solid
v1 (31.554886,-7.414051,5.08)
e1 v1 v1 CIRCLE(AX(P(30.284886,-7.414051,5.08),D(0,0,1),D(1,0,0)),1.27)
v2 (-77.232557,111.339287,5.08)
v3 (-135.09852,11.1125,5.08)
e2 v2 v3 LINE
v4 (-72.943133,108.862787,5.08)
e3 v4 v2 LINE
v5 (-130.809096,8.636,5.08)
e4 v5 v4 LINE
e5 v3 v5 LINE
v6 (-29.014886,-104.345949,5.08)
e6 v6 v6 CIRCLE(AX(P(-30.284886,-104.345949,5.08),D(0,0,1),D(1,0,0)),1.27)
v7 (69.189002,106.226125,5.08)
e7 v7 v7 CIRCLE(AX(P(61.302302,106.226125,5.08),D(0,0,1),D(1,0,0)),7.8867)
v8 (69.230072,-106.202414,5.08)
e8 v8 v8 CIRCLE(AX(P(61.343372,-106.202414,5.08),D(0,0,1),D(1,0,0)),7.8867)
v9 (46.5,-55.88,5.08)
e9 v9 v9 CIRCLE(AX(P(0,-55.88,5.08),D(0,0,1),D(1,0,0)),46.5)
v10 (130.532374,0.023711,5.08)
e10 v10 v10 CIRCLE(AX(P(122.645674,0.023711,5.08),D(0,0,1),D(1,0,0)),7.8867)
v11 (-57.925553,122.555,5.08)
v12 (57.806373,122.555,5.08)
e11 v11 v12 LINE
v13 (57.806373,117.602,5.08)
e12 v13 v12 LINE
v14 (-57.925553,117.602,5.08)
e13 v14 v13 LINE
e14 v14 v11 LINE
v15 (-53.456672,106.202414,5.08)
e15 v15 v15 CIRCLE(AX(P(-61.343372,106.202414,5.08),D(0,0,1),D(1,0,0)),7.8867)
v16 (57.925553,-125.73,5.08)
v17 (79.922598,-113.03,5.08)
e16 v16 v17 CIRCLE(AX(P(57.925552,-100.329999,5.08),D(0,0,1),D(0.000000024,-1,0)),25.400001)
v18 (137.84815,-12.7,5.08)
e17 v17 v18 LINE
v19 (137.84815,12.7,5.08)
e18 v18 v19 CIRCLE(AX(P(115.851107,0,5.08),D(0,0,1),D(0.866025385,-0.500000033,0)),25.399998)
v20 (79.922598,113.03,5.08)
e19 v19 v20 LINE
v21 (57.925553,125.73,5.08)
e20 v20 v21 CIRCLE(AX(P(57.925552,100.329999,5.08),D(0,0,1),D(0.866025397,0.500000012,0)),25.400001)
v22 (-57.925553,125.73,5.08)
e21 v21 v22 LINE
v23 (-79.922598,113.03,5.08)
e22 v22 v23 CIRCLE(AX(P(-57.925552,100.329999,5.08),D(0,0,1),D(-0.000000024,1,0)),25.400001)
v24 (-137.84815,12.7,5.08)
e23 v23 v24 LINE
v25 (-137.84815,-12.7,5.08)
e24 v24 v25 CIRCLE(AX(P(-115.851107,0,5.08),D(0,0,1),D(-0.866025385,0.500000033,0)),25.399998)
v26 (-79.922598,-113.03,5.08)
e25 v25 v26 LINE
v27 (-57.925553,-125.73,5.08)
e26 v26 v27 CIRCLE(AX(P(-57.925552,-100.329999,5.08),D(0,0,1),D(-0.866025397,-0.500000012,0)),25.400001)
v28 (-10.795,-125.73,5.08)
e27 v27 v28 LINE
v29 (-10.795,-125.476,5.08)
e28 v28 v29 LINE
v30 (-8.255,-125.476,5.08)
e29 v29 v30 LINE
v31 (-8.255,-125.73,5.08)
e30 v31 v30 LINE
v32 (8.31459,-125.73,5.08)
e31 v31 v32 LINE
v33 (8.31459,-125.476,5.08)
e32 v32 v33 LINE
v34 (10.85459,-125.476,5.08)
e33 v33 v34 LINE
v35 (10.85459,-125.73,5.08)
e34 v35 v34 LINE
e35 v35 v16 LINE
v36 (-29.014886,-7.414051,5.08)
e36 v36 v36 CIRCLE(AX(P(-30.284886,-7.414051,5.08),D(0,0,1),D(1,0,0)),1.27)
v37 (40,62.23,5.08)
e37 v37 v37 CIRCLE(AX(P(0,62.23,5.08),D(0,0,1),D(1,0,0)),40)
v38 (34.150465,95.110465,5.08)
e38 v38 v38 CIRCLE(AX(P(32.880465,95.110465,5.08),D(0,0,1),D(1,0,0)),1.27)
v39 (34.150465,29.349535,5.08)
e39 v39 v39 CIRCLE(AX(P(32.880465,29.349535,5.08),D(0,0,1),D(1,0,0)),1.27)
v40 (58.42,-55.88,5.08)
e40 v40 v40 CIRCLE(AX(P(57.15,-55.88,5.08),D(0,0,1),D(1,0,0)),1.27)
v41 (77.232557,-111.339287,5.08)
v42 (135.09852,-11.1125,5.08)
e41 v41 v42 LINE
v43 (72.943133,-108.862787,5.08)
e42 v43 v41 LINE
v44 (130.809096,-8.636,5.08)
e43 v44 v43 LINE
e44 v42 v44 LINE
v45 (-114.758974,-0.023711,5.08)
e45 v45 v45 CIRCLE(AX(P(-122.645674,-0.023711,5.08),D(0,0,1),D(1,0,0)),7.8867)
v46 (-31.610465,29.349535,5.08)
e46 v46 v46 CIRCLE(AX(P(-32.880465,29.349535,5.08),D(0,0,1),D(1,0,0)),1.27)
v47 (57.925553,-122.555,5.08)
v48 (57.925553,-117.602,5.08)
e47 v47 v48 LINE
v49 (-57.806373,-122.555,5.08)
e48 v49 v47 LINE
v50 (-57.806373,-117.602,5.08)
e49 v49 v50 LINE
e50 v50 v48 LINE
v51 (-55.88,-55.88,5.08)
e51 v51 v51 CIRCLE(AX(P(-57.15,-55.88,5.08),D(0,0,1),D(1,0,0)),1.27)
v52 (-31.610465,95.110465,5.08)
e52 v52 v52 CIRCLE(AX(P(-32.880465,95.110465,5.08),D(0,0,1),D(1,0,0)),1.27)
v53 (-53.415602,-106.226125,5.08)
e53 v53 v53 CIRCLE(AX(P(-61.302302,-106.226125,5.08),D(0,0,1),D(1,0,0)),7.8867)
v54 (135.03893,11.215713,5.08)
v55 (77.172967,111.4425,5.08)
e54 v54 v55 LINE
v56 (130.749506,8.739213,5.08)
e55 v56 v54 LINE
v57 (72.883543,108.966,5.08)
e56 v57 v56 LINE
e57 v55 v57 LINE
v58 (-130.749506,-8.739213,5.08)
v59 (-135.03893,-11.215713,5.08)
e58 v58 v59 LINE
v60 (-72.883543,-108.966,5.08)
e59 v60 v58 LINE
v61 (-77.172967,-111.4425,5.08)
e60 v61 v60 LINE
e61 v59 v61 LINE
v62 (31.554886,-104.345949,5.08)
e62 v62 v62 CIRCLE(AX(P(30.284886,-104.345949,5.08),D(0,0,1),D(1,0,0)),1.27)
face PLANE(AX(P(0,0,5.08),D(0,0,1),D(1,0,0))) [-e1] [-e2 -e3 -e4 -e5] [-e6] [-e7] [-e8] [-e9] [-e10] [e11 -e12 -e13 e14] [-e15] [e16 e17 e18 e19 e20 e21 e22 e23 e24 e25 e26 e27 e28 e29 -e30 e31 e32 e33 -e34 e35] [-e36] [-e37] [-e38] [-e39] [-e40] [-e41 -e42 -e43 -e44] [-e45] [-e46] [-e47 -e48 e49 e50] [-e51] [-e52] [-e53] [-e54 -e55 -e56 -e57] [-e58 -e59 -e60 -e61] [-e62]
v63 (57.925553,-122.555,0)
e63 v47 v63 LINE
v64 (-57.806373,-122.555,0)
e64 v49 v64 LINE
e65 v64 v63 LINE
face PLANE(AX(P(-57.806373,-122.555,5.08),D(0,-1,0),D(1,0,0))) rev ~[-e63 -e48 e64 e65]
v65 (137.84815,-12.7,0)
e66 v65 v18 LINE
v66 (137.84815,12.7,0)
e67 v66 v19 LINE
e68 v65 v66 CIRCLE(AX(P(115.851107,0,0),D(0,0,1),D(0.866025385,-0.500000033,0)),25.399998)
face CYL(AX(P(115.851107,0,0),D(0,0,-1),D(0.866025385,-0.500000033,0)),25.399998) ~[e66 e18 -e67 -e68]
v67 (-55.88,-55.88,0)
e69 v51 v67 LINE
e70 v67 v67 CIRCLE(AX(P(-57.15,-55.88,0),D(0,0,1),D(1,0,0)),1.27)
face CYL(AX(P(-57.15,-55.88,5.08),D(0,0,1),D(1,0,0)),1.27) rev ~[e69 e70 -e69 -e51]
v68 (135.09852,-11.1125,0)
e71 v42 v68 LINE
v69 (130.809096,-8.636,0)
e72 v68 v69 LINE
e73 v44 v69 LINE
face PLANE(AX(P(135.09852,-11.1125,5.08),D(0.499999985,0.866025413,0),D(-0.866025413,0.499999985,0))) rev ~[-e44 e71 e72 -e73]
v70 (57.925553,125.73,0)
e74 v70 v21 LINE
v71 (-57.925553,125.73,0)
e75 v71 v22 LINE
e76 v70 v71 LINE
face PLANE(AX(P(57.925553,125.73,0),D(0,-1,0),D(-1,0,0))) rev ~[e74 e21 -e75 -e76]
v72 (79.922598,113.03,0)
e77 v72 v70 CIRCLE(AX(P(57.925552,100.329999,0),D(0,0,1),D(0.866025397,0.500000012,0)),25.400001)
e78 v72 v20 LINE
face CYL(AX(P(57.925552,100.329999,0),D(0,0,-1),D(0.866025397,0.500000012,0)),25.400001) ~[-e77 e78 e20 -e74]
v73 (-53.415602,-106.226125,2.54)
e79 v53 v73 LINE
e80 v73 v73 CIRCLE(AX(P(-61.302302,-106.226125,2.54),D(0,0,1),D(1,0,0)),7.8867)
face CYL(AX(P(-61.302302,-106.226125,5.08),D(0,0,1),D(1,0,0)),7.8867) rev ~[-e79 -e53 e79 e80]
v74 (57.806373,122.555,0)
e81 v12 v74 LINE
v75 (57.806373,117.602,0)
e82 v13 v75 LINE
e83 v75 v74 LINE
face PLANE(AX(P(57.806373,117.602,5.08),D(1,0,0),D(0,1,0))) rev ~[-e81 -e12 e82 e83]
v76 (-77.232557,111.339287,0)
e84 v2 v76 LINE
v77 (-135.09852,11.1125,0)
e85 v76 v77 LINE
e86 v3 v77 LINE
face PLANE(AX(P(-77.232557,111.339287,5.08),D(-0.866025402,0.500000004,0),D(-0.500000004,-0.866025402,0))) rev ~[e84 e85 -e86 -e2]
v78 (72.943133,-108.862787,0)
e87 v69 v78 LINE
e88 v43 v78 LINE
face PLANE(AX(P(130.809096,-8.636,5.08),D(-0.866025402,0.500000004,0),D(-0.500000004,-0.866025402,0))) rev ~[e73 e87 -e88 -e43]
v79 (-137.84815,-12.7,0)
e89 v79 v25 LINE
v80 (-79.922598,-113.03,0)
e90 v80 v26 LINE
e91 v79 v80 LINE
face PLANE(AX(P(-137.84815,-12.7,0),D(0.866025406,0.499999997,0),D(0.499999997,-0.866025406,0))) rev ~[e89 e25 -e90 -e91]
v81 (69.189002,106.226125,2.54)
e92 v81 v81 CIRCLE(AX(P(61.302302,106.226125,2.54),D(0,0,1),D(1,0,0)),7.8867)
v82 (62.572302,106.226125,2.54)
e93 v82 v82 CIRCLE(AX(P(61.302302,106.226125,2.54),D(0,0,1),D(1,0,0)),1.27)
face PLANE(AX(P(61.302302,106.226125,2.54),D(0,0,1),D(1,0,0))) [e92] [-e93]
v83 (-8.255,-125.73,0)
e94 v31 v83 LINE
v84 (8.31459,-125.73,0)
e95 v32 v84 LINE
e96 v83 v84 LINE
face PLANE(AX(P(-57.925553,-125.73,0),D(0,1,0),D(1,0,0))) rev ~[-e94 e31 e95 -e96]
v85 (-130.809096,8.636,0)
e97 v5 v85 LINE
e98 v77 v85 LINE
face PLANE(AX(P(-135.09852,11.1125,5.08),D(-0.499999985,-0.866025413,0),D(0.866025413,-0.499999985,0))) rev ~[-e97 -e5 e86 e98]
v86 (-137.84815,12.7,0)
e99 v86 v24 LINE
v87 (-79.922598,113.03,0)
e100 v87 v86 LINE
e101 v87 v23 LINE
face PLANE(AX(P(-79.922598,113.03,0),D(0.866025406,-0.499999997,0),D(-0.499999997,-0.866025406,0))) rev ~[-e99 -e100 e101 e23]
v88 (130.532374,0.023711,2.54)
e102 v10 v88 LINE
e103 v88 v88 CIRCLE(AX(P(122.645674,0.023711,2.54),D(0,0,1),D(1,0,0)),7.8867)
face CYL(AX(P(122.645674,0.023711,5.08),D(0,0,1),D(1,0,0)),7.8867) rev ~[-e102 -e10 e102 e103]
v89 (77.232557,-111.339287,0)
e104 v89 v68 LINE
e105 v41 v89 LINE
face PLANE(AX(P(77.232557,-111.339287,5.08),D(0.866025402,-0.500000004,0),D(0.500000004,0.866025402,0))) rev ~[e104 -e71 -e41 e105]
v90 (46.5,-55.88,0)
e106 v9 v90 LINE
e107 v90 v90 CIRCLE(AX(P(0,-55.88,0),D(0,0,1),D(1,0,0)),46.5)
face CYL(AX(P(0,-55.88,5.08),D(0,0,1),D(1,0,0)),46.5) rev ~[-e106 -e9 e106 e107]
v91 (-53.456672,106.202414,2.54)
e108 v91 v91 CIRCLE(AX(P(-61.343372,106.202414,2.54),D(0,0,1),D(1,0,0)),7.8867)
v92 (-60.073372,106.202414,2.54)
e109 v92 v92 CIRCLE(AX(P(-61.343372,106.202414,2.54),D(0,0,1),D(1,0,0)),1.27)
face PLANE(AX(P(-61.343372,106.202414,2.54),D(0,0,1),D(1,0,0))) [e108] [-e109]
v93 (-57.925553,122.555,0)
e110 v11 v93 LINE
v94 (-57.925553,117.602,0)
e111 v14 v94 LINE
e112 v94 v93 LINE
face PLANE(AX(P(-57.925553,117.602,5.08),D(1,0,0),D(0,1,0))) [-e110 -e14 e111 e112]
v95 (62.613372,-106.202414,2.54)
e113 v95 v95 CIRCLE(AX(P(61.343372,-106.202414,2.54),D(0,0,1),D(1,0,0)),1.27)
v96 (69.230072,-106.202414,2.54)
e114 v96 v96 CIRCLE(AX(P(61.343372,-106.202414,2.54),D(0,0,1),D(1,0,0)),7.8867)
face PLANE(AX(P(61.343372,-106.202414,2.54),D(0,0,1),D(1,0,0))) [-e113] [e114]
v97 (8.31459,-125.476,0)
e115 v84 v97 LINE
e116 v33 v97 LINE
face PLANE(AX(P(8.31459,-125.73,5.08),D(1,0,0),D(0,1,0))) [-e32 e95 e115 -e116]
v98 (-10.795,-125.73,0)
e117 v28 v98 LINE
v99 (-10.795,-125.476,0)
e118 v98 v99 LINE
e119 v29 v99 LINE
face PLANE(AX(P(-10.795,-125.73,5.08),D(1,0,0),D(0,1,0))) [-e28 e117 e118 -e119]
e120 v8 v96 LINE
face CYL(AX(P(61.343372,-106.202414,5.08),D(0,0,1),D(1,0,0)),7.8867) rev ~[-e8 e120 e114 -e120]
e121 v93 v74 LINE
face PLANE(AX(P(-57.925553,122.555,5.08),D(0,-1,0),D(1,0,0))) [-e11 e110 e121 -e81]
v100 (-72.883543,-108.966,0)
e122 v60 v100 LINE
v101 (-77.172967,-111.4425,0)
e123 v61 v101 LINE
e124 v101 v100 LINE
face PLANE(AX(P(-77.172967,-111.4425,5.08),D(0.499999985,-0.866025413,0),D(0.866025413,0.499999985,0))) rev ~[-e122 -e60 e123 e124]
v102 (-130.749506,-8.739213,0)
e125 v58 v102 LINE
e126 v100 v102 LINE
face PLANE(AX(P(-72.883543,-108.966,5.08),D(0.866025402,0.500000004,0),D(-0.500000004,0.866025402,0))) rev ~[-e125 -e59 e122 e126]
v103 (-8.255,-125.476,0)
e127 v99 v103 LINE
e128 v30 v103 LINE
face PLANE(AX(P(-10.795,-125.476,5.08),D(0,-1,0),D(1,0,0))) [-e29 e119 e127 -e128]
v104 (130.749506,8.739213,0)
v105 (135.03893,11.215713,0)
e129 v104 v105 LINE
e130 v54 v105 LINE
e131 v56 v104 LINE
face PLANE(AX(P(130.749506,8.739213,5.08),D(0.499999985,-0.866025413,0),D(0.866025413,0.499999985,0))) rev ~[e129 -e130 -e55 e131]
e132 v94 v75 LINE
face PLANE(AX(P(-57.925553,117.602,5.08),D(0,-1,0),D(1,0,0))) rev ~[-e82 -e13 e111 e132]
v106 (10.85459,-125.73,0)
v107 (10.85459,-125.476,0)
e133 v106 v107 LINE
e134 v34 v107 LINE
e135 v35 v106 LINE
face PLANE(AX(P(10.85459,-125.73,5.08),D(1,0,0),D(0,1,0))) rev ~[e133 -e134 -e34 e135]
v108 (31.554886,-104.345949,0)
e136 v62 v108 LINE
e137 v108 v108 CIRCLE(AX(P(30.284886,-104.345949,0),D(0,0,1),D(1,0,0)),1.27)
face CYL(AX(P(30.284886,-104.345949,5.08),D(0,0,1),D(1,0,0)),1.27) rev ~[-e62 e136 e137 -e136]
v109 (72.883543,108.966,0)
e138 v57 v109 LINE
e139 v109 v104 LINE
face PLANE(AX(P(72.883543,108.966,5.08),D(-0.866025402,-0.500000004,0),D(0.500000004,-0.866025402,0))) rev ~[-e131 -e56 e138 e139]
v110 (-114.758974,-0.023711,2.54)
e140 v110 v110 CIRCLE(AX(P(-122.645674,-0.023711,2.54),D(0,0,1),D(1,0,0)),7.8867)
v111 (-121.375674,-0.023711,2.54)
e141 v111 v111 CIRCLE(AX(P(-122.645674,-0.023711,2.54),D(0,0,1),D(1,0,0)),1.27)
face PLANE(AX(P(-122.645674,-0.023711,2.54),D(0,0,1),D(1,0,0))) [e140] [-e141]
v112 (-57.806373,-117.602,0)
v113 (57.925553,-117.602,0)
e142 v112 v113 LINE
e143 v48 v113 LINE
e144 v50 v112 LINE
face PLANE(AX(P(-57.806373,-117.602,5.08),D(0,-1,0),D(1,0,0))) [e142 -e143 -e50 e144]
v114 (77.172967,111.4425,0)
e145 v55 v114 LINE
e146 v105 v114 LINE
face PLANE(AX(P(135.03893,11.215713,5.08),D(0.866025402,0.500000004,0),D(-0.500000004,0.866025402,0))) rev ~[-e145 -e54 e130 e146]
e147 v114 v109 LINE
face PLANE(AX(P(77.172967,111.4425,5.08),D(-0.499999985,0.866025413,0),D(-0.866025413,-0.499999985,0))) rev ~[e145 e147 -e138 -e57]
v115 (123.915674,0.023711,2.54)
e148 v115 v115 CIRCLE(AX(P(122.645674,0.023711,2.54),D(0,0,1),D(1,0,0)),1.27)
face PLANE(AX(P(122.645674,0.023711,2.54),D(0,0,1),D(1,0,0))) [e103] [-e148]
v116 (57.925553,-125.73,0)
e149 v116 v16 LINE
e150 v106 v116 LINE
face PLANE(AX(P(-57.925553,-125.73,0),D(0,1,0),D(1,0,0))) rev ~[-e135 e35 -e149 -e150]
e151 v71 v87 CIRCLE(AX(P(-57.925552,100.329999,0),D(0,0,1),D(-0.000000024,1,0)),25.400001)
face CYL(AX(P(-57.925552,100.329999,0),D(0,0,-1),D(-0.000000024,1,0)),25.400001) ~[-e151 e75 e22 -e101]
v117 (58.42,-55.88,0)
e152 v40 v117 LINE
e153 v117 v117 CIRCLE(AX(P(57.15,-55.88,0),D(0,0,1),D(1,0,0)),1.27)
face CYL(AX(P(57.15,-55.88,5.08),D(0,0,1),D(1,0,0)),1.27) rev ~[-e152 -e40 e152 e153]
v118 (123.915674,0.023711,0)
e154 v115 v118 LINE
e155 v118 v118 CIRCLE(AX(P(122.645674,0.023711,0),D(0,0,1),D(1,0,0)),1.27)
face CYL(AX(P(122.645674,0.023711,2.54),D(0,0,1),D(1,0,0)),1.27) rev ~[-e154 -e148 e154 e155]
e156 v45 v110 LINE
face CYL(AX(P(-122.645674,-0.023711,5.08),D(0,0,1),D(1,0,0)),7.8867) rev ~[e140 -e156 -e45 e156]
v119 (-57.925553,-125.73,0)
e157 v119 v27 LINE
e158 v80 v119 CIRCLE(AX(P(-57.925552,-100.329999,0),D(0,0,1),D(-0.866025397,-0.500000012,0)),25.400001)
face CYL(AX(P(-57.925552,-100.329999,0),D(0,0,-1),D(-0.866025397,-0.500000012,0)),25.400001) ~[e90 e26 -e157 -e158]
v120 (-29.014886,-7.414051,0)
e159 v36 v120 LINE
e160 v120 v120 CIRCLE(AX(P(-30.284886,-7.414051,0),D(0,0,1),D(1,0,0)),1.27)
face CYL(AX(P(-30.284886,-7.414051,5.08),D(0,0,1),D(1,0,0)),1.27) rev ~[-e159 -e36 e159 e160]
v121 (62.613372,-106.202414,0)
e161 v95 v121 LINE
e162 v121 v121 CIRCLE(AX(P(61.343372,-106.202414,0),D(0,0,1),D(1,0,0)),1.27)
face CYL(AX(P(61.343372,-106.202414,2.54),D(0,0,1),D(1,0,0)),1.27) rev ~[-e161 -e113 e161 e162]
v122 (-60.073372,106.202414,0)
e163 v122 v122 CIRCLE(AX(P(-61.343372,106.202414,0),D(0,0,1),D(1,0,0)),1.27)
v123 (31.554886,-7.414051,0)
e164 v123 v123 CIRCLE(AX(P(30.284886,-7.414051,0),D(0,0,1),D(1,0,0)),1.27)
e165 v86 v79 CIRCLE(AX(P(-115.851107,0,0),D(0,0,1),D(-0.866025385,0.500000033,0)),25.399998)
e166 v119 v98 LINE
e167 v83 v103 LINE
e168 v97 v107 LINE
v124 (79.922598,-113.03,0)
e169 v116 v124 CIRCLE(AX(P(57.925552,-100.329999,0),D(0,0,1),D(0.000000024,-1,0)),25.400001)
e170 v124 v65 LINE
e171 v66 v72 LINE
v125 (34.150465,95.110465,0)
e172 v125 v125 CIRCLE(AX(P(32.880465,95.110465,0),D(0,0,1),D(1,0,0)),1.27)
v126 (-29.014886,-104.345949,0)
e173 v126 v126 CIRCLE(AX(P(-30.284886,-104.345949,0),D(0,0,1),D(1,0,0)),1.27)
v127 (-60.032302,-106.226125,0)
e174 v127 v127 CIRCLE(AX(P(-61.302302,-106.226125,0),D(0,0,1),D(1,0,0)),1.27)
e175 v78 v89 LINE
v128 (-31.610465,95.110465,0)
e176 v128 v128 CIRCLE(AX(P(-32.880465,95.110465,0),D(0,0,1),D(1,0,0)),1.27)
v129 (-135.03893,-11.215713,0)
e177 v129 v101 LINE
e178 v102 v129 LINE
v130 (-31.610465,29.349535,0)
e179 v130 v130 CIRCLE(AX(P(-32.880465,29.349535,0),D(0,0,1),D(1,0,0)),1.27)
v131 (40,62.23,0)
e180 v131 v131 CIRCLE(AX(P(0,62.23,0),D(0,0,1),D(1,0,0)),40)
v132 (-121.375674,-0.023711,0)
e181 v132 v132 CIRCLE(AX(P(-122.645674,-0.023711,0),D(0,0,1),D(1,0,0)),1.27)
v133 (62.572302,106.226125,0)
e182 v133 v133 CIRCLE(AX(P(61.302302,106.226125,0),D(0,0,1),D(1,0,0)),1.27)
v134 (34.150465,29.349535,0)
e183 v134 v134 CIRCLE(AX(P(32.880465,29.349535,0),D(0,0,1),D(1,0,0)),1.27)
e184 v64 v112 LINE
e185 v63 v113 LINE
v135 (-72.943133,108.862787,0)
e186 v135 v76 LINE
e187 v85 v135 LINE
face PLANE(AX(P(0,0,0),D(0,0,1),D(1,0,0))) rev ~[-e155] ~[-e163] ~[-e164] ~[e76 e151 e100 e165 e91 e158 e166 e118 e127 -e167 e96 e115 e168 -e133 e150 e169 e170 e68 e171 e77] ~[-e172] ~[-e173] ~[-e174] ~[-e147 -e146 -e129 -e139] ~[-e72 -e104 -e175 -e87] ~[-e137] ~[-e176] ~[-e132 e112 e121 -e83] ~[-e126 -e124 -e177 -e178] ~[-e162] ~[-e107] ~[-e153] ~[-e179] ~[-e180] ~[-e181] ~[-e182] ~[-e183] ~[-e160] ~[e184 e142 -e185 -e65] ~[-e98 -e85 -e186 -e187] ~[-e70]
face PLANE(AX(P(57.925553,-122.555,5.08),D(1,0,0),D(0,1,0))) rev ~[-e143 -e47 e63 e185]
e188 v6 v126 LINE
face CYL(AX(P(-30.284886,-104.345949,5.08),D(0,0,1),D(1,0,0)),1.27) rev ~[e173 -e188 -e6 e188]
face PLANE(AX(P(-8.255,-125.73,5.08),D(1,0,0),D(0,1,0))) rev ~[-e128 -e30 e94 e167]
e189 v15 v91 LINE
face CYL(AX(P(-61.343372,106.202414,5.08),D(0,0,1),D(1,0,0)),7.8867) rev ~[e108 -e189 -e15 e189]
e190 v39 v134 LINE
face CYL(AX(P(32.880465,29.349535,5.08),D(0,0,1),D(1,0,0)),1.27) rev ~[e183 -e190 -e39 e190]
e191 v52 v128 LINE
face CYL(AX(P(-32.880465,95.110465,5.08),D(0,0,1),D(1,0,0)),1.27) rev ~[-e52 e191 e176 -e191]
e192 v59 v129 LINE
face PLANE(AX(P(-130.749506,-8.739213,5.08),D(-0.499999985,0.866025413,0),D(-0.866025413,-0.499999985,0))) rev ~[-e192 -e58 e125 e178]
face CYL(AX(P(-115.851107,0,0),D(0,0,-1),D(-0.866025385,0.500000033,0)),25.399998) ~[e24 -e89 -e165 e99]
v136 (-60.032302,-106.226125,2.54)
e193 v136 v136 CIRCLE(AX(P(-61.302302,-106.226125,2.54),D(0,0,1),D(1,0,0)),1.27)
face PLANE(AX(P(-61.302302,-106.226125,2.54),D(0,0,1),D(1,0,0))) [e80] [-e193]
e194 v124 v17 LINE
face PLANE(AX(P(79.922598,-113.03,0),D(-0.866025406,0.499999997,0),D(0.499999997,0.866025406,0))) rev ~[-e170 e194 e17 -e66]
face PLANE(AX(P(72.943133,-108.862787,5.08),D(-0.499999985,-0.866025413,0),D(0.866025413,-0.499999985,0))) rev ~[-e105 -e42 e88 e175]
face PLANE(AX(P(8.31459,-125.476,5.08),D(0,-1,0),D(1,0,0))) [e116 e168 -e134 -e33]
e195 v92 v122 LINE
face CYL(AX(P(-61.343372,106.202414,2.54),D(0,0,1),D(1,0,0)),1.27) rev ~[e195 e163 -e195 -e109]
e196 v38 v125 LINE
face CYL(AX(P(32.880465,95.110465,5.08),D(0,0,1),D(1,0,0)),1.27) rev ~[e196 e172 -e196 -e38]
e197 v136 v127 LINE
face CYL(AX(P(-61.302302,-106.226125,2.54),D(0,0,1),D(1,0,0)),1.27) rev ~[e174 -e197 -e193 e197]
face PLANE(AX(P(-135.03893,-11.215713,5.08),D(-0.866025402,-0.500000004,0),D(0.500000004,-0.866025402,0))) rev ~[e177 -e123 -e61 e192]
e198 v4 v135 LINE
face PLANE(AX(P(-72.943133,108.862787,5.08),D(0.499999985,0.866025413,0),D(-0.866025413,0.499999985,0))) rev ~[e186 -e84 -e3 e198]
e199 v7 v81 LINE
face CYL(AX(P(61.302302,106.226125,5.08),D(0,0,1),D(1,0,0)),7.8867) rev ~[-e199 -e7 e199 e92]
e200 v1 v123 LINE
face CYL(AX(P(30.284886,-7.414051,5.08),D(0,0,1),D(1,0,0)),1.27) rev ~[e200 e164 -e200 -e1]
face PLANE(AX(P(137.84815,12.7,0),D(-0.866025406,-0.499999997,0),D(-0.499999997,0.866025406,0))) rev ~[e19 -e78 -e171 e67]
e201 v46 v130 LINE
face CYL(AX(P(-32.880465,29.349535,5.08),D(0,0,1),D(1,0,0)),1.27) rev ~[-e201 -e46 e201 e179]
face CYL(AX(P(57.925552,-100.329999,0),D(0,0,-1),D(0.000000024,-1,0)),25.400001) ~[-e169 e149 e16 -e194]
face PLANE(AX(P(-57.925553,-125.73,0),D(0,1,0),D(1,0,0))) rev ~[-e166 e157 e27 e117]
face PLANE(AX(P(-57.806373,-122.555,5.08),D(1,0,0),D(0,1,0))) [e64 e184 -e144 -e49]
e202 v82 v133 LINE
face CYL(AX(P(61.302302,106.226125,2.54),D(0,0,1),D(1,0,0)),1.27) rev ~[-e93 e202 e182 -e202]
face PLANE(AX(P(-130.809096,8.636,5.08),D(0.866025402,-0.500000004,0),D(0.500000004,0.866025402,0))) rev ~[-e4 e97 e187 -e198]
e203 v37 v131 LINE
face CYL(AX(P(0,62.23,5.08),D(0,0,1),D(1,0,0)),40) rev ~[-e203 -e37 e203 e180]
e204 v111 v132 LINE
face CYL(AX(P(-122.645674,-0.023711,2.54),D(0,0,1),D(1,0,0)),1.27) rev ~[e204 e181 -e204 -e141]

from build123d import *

# Parameters (mm, degrees)
F1_DEPTH  = 5.08
F2_R      = 40
F2_R_2    = 46.5
F2_R_3    = 1.27
F3_DEPTH  = 25.4
F4_W      = 115.731926
F4_H      = 4.953
F5_DEPTH  = 5.081
F6_R      = 7.8867
F7_DEPTH  = 2.54
F8_R      = 1.27
F9_DEPTH  = 2.541
F10_W     = 2.54
F10_H     = 0.254
F11_DEPTH = 5.081


with BuildPart() as f1:
    # F0 (on Top) → F1 (new body)
    with BuildSketch(Plane.XY):
        with BuildLine():
            Line((-79.922598, 113.03), (-137.84815, 12.7))
            ThreePointArc((-137.84815, 12.7), (-141.251105, 0), (-137.84815, -12.7))
            Line((-137.84815, -12.7), (-79.922598, -113.03))
            ThreePointArc((-79.922598, -113.03), (-70.625553, -122.327045), (-57.925553, -125.73))
            Line((-57.925553, -125.73), (57.925553, -125.73))
            ThreePointArc((57.925553, -125.73), (70.625553, -122.327045), (79.922598, -113.03))
            Line((79.922598, -113.03), (137.84815, -12.7))
            ThreePointArc((137.84815, -12.7), (141.251105, 0), (137.84815, 12.7))
            Line((137.84815, 12.7), (79.922598, 113.03))
            ThreePointArc((79.922598, 113.03), (70.625553, 122.327045), (57.925553, 125.73))
            Line((57.925553, 125.73), (-57.925553, 125.73))
            ThreePointArc((-57.925553, 125.73), (-70.625553, 122.327045), (-79.922598, 113.03))
        make_face()
    extrude(amount=F1_DEPTH)

    # F2 (on face) → F3 (cut)
    with BuildSketch(Plane.XY.offset(5.08)):
        with Locations((0, 62.23)):
            Circle(F2_R)
        with Locations((0, -55.88)):
            Circle(F2_R_2)
        with Locations((57.15, -55.88)):
            Circle(F2_R_3)
        with Locations((30.284886, -7.414051)):
            Circle(F2_R_3)
        with Locations((30.284886, -104.345949)):
            Circle(F2_R_3)
        with Locations((-30.284886, -7.414051)):
            Circle(F2_R_3)
        with Locations((-30.284886, -104.345949)):
            Circle(F2_R_3)
        with Locations((-57.15, -55.88)):
            Circle(F2_R_3)
        with Locations((-32.880465, 95.110465)):
            Circle(F2_R_3)
        with Locations((-32.880465, 29.349535)):
            Circle(F2_R_3)
        with Locations((32.880465, 29.349535)):
            Circle(F2_R_3)
        with Locations((32.880465, 95.110465)):
            Circle(F2_R_3)
    extrude(amount=-F3_DEPTH, mode=Mode.SUBTRACT)

    # F4 (on face) → F5 (cut, through all)
    with BuildSketch(Plane.XY.offset(5.08)):
        Polygon((-135.03893, -11.215713), (-77.172967, -111.4425), (-72.883543, -108.966), (-130.749506, -8.739213), align=None)
        Polygon((-77.232557, 111.339287), (-135.09852, 11.1125), (-130.809096, 8.636), (-72.943133, 108.862787), align=None)
        with Locations((-0.05959, 120.0785)):
            Rectangle(F4_W, F4_H)
        Polygon((135.03893, 11.215713), (77.172967, 111.4425), (72.883543, 108.966), (130.749506, 8.739213), align=None)
        Polygon((77.232557, -111.339287), (135.09852, -11.1125), (130.809096, -8.636), (72.943133, -108.862787), align=None)
        with Locations((0.05959, -120.0785)):
            Rectangle(F4_W, F4_H)
    extrude(amount=-F5_DEPTH, mode=Mode.SUBTRACT)

    # F6 (on face) → F7 (cut)
    with BuildSketch(Plane.XY.offset(5.08)):
        with Locations((-61.343372, 106.202414)):
            Circle(F6_R)
        with Locations((61.302302, 106.226125)):
            Circle(F6_R)
        with Locations((122.645674, 0.023711)):
            Circle(F6_R)
        with Locations((61.343372, -106.202414)):
            Circle(F6_R)
        with Locations((-61.302302, -106.226125)):
            Circle(F6_R)
        with Locations((-122.645674, -0.023711)):
            Circle(F6_R)
    extrude(amount=-F7_DEPTH, mode=Mode.SUBTRACT)

    # F8 (on face) → F9 (cut, through all)
    with BuildSketch(Plane.XY.offset(2.54)):
        with Locations((-61.343372, 106.202414)):
            Circle(F8_R)
        with Locations((61.302302, 106.226125)):
            Circle(F8_R)
        with Locations((-61.302302, -106.226125)):
            Circle(F8_R)
        with Locations((61.343372, -106.202414)):
            Circle(F8_R)
        with Locations((122.645674, 0.023711)):
            Circle(F8_R)
        with Locations((-122.645674, -0.023711)):
            Circle(F8_R)
    extrude(amount=-F9_DEPTH, mode=Mode.SUBTRACT)

    # F10 (on face) → F11 (cut, through all)
    with BuildSketch(Plane.XY.offset(5.08)):
        with Locations((-9.525, -125.603)):
            Rectangle(F10_W, F10_H)
        with Locations((9.58459, -125.603)):
            Rectangle(F10_W, F10_H)
    extrude(amount=-F11_DEPTH, mode=Mode.SUBTRACT)


solid = f1.part
